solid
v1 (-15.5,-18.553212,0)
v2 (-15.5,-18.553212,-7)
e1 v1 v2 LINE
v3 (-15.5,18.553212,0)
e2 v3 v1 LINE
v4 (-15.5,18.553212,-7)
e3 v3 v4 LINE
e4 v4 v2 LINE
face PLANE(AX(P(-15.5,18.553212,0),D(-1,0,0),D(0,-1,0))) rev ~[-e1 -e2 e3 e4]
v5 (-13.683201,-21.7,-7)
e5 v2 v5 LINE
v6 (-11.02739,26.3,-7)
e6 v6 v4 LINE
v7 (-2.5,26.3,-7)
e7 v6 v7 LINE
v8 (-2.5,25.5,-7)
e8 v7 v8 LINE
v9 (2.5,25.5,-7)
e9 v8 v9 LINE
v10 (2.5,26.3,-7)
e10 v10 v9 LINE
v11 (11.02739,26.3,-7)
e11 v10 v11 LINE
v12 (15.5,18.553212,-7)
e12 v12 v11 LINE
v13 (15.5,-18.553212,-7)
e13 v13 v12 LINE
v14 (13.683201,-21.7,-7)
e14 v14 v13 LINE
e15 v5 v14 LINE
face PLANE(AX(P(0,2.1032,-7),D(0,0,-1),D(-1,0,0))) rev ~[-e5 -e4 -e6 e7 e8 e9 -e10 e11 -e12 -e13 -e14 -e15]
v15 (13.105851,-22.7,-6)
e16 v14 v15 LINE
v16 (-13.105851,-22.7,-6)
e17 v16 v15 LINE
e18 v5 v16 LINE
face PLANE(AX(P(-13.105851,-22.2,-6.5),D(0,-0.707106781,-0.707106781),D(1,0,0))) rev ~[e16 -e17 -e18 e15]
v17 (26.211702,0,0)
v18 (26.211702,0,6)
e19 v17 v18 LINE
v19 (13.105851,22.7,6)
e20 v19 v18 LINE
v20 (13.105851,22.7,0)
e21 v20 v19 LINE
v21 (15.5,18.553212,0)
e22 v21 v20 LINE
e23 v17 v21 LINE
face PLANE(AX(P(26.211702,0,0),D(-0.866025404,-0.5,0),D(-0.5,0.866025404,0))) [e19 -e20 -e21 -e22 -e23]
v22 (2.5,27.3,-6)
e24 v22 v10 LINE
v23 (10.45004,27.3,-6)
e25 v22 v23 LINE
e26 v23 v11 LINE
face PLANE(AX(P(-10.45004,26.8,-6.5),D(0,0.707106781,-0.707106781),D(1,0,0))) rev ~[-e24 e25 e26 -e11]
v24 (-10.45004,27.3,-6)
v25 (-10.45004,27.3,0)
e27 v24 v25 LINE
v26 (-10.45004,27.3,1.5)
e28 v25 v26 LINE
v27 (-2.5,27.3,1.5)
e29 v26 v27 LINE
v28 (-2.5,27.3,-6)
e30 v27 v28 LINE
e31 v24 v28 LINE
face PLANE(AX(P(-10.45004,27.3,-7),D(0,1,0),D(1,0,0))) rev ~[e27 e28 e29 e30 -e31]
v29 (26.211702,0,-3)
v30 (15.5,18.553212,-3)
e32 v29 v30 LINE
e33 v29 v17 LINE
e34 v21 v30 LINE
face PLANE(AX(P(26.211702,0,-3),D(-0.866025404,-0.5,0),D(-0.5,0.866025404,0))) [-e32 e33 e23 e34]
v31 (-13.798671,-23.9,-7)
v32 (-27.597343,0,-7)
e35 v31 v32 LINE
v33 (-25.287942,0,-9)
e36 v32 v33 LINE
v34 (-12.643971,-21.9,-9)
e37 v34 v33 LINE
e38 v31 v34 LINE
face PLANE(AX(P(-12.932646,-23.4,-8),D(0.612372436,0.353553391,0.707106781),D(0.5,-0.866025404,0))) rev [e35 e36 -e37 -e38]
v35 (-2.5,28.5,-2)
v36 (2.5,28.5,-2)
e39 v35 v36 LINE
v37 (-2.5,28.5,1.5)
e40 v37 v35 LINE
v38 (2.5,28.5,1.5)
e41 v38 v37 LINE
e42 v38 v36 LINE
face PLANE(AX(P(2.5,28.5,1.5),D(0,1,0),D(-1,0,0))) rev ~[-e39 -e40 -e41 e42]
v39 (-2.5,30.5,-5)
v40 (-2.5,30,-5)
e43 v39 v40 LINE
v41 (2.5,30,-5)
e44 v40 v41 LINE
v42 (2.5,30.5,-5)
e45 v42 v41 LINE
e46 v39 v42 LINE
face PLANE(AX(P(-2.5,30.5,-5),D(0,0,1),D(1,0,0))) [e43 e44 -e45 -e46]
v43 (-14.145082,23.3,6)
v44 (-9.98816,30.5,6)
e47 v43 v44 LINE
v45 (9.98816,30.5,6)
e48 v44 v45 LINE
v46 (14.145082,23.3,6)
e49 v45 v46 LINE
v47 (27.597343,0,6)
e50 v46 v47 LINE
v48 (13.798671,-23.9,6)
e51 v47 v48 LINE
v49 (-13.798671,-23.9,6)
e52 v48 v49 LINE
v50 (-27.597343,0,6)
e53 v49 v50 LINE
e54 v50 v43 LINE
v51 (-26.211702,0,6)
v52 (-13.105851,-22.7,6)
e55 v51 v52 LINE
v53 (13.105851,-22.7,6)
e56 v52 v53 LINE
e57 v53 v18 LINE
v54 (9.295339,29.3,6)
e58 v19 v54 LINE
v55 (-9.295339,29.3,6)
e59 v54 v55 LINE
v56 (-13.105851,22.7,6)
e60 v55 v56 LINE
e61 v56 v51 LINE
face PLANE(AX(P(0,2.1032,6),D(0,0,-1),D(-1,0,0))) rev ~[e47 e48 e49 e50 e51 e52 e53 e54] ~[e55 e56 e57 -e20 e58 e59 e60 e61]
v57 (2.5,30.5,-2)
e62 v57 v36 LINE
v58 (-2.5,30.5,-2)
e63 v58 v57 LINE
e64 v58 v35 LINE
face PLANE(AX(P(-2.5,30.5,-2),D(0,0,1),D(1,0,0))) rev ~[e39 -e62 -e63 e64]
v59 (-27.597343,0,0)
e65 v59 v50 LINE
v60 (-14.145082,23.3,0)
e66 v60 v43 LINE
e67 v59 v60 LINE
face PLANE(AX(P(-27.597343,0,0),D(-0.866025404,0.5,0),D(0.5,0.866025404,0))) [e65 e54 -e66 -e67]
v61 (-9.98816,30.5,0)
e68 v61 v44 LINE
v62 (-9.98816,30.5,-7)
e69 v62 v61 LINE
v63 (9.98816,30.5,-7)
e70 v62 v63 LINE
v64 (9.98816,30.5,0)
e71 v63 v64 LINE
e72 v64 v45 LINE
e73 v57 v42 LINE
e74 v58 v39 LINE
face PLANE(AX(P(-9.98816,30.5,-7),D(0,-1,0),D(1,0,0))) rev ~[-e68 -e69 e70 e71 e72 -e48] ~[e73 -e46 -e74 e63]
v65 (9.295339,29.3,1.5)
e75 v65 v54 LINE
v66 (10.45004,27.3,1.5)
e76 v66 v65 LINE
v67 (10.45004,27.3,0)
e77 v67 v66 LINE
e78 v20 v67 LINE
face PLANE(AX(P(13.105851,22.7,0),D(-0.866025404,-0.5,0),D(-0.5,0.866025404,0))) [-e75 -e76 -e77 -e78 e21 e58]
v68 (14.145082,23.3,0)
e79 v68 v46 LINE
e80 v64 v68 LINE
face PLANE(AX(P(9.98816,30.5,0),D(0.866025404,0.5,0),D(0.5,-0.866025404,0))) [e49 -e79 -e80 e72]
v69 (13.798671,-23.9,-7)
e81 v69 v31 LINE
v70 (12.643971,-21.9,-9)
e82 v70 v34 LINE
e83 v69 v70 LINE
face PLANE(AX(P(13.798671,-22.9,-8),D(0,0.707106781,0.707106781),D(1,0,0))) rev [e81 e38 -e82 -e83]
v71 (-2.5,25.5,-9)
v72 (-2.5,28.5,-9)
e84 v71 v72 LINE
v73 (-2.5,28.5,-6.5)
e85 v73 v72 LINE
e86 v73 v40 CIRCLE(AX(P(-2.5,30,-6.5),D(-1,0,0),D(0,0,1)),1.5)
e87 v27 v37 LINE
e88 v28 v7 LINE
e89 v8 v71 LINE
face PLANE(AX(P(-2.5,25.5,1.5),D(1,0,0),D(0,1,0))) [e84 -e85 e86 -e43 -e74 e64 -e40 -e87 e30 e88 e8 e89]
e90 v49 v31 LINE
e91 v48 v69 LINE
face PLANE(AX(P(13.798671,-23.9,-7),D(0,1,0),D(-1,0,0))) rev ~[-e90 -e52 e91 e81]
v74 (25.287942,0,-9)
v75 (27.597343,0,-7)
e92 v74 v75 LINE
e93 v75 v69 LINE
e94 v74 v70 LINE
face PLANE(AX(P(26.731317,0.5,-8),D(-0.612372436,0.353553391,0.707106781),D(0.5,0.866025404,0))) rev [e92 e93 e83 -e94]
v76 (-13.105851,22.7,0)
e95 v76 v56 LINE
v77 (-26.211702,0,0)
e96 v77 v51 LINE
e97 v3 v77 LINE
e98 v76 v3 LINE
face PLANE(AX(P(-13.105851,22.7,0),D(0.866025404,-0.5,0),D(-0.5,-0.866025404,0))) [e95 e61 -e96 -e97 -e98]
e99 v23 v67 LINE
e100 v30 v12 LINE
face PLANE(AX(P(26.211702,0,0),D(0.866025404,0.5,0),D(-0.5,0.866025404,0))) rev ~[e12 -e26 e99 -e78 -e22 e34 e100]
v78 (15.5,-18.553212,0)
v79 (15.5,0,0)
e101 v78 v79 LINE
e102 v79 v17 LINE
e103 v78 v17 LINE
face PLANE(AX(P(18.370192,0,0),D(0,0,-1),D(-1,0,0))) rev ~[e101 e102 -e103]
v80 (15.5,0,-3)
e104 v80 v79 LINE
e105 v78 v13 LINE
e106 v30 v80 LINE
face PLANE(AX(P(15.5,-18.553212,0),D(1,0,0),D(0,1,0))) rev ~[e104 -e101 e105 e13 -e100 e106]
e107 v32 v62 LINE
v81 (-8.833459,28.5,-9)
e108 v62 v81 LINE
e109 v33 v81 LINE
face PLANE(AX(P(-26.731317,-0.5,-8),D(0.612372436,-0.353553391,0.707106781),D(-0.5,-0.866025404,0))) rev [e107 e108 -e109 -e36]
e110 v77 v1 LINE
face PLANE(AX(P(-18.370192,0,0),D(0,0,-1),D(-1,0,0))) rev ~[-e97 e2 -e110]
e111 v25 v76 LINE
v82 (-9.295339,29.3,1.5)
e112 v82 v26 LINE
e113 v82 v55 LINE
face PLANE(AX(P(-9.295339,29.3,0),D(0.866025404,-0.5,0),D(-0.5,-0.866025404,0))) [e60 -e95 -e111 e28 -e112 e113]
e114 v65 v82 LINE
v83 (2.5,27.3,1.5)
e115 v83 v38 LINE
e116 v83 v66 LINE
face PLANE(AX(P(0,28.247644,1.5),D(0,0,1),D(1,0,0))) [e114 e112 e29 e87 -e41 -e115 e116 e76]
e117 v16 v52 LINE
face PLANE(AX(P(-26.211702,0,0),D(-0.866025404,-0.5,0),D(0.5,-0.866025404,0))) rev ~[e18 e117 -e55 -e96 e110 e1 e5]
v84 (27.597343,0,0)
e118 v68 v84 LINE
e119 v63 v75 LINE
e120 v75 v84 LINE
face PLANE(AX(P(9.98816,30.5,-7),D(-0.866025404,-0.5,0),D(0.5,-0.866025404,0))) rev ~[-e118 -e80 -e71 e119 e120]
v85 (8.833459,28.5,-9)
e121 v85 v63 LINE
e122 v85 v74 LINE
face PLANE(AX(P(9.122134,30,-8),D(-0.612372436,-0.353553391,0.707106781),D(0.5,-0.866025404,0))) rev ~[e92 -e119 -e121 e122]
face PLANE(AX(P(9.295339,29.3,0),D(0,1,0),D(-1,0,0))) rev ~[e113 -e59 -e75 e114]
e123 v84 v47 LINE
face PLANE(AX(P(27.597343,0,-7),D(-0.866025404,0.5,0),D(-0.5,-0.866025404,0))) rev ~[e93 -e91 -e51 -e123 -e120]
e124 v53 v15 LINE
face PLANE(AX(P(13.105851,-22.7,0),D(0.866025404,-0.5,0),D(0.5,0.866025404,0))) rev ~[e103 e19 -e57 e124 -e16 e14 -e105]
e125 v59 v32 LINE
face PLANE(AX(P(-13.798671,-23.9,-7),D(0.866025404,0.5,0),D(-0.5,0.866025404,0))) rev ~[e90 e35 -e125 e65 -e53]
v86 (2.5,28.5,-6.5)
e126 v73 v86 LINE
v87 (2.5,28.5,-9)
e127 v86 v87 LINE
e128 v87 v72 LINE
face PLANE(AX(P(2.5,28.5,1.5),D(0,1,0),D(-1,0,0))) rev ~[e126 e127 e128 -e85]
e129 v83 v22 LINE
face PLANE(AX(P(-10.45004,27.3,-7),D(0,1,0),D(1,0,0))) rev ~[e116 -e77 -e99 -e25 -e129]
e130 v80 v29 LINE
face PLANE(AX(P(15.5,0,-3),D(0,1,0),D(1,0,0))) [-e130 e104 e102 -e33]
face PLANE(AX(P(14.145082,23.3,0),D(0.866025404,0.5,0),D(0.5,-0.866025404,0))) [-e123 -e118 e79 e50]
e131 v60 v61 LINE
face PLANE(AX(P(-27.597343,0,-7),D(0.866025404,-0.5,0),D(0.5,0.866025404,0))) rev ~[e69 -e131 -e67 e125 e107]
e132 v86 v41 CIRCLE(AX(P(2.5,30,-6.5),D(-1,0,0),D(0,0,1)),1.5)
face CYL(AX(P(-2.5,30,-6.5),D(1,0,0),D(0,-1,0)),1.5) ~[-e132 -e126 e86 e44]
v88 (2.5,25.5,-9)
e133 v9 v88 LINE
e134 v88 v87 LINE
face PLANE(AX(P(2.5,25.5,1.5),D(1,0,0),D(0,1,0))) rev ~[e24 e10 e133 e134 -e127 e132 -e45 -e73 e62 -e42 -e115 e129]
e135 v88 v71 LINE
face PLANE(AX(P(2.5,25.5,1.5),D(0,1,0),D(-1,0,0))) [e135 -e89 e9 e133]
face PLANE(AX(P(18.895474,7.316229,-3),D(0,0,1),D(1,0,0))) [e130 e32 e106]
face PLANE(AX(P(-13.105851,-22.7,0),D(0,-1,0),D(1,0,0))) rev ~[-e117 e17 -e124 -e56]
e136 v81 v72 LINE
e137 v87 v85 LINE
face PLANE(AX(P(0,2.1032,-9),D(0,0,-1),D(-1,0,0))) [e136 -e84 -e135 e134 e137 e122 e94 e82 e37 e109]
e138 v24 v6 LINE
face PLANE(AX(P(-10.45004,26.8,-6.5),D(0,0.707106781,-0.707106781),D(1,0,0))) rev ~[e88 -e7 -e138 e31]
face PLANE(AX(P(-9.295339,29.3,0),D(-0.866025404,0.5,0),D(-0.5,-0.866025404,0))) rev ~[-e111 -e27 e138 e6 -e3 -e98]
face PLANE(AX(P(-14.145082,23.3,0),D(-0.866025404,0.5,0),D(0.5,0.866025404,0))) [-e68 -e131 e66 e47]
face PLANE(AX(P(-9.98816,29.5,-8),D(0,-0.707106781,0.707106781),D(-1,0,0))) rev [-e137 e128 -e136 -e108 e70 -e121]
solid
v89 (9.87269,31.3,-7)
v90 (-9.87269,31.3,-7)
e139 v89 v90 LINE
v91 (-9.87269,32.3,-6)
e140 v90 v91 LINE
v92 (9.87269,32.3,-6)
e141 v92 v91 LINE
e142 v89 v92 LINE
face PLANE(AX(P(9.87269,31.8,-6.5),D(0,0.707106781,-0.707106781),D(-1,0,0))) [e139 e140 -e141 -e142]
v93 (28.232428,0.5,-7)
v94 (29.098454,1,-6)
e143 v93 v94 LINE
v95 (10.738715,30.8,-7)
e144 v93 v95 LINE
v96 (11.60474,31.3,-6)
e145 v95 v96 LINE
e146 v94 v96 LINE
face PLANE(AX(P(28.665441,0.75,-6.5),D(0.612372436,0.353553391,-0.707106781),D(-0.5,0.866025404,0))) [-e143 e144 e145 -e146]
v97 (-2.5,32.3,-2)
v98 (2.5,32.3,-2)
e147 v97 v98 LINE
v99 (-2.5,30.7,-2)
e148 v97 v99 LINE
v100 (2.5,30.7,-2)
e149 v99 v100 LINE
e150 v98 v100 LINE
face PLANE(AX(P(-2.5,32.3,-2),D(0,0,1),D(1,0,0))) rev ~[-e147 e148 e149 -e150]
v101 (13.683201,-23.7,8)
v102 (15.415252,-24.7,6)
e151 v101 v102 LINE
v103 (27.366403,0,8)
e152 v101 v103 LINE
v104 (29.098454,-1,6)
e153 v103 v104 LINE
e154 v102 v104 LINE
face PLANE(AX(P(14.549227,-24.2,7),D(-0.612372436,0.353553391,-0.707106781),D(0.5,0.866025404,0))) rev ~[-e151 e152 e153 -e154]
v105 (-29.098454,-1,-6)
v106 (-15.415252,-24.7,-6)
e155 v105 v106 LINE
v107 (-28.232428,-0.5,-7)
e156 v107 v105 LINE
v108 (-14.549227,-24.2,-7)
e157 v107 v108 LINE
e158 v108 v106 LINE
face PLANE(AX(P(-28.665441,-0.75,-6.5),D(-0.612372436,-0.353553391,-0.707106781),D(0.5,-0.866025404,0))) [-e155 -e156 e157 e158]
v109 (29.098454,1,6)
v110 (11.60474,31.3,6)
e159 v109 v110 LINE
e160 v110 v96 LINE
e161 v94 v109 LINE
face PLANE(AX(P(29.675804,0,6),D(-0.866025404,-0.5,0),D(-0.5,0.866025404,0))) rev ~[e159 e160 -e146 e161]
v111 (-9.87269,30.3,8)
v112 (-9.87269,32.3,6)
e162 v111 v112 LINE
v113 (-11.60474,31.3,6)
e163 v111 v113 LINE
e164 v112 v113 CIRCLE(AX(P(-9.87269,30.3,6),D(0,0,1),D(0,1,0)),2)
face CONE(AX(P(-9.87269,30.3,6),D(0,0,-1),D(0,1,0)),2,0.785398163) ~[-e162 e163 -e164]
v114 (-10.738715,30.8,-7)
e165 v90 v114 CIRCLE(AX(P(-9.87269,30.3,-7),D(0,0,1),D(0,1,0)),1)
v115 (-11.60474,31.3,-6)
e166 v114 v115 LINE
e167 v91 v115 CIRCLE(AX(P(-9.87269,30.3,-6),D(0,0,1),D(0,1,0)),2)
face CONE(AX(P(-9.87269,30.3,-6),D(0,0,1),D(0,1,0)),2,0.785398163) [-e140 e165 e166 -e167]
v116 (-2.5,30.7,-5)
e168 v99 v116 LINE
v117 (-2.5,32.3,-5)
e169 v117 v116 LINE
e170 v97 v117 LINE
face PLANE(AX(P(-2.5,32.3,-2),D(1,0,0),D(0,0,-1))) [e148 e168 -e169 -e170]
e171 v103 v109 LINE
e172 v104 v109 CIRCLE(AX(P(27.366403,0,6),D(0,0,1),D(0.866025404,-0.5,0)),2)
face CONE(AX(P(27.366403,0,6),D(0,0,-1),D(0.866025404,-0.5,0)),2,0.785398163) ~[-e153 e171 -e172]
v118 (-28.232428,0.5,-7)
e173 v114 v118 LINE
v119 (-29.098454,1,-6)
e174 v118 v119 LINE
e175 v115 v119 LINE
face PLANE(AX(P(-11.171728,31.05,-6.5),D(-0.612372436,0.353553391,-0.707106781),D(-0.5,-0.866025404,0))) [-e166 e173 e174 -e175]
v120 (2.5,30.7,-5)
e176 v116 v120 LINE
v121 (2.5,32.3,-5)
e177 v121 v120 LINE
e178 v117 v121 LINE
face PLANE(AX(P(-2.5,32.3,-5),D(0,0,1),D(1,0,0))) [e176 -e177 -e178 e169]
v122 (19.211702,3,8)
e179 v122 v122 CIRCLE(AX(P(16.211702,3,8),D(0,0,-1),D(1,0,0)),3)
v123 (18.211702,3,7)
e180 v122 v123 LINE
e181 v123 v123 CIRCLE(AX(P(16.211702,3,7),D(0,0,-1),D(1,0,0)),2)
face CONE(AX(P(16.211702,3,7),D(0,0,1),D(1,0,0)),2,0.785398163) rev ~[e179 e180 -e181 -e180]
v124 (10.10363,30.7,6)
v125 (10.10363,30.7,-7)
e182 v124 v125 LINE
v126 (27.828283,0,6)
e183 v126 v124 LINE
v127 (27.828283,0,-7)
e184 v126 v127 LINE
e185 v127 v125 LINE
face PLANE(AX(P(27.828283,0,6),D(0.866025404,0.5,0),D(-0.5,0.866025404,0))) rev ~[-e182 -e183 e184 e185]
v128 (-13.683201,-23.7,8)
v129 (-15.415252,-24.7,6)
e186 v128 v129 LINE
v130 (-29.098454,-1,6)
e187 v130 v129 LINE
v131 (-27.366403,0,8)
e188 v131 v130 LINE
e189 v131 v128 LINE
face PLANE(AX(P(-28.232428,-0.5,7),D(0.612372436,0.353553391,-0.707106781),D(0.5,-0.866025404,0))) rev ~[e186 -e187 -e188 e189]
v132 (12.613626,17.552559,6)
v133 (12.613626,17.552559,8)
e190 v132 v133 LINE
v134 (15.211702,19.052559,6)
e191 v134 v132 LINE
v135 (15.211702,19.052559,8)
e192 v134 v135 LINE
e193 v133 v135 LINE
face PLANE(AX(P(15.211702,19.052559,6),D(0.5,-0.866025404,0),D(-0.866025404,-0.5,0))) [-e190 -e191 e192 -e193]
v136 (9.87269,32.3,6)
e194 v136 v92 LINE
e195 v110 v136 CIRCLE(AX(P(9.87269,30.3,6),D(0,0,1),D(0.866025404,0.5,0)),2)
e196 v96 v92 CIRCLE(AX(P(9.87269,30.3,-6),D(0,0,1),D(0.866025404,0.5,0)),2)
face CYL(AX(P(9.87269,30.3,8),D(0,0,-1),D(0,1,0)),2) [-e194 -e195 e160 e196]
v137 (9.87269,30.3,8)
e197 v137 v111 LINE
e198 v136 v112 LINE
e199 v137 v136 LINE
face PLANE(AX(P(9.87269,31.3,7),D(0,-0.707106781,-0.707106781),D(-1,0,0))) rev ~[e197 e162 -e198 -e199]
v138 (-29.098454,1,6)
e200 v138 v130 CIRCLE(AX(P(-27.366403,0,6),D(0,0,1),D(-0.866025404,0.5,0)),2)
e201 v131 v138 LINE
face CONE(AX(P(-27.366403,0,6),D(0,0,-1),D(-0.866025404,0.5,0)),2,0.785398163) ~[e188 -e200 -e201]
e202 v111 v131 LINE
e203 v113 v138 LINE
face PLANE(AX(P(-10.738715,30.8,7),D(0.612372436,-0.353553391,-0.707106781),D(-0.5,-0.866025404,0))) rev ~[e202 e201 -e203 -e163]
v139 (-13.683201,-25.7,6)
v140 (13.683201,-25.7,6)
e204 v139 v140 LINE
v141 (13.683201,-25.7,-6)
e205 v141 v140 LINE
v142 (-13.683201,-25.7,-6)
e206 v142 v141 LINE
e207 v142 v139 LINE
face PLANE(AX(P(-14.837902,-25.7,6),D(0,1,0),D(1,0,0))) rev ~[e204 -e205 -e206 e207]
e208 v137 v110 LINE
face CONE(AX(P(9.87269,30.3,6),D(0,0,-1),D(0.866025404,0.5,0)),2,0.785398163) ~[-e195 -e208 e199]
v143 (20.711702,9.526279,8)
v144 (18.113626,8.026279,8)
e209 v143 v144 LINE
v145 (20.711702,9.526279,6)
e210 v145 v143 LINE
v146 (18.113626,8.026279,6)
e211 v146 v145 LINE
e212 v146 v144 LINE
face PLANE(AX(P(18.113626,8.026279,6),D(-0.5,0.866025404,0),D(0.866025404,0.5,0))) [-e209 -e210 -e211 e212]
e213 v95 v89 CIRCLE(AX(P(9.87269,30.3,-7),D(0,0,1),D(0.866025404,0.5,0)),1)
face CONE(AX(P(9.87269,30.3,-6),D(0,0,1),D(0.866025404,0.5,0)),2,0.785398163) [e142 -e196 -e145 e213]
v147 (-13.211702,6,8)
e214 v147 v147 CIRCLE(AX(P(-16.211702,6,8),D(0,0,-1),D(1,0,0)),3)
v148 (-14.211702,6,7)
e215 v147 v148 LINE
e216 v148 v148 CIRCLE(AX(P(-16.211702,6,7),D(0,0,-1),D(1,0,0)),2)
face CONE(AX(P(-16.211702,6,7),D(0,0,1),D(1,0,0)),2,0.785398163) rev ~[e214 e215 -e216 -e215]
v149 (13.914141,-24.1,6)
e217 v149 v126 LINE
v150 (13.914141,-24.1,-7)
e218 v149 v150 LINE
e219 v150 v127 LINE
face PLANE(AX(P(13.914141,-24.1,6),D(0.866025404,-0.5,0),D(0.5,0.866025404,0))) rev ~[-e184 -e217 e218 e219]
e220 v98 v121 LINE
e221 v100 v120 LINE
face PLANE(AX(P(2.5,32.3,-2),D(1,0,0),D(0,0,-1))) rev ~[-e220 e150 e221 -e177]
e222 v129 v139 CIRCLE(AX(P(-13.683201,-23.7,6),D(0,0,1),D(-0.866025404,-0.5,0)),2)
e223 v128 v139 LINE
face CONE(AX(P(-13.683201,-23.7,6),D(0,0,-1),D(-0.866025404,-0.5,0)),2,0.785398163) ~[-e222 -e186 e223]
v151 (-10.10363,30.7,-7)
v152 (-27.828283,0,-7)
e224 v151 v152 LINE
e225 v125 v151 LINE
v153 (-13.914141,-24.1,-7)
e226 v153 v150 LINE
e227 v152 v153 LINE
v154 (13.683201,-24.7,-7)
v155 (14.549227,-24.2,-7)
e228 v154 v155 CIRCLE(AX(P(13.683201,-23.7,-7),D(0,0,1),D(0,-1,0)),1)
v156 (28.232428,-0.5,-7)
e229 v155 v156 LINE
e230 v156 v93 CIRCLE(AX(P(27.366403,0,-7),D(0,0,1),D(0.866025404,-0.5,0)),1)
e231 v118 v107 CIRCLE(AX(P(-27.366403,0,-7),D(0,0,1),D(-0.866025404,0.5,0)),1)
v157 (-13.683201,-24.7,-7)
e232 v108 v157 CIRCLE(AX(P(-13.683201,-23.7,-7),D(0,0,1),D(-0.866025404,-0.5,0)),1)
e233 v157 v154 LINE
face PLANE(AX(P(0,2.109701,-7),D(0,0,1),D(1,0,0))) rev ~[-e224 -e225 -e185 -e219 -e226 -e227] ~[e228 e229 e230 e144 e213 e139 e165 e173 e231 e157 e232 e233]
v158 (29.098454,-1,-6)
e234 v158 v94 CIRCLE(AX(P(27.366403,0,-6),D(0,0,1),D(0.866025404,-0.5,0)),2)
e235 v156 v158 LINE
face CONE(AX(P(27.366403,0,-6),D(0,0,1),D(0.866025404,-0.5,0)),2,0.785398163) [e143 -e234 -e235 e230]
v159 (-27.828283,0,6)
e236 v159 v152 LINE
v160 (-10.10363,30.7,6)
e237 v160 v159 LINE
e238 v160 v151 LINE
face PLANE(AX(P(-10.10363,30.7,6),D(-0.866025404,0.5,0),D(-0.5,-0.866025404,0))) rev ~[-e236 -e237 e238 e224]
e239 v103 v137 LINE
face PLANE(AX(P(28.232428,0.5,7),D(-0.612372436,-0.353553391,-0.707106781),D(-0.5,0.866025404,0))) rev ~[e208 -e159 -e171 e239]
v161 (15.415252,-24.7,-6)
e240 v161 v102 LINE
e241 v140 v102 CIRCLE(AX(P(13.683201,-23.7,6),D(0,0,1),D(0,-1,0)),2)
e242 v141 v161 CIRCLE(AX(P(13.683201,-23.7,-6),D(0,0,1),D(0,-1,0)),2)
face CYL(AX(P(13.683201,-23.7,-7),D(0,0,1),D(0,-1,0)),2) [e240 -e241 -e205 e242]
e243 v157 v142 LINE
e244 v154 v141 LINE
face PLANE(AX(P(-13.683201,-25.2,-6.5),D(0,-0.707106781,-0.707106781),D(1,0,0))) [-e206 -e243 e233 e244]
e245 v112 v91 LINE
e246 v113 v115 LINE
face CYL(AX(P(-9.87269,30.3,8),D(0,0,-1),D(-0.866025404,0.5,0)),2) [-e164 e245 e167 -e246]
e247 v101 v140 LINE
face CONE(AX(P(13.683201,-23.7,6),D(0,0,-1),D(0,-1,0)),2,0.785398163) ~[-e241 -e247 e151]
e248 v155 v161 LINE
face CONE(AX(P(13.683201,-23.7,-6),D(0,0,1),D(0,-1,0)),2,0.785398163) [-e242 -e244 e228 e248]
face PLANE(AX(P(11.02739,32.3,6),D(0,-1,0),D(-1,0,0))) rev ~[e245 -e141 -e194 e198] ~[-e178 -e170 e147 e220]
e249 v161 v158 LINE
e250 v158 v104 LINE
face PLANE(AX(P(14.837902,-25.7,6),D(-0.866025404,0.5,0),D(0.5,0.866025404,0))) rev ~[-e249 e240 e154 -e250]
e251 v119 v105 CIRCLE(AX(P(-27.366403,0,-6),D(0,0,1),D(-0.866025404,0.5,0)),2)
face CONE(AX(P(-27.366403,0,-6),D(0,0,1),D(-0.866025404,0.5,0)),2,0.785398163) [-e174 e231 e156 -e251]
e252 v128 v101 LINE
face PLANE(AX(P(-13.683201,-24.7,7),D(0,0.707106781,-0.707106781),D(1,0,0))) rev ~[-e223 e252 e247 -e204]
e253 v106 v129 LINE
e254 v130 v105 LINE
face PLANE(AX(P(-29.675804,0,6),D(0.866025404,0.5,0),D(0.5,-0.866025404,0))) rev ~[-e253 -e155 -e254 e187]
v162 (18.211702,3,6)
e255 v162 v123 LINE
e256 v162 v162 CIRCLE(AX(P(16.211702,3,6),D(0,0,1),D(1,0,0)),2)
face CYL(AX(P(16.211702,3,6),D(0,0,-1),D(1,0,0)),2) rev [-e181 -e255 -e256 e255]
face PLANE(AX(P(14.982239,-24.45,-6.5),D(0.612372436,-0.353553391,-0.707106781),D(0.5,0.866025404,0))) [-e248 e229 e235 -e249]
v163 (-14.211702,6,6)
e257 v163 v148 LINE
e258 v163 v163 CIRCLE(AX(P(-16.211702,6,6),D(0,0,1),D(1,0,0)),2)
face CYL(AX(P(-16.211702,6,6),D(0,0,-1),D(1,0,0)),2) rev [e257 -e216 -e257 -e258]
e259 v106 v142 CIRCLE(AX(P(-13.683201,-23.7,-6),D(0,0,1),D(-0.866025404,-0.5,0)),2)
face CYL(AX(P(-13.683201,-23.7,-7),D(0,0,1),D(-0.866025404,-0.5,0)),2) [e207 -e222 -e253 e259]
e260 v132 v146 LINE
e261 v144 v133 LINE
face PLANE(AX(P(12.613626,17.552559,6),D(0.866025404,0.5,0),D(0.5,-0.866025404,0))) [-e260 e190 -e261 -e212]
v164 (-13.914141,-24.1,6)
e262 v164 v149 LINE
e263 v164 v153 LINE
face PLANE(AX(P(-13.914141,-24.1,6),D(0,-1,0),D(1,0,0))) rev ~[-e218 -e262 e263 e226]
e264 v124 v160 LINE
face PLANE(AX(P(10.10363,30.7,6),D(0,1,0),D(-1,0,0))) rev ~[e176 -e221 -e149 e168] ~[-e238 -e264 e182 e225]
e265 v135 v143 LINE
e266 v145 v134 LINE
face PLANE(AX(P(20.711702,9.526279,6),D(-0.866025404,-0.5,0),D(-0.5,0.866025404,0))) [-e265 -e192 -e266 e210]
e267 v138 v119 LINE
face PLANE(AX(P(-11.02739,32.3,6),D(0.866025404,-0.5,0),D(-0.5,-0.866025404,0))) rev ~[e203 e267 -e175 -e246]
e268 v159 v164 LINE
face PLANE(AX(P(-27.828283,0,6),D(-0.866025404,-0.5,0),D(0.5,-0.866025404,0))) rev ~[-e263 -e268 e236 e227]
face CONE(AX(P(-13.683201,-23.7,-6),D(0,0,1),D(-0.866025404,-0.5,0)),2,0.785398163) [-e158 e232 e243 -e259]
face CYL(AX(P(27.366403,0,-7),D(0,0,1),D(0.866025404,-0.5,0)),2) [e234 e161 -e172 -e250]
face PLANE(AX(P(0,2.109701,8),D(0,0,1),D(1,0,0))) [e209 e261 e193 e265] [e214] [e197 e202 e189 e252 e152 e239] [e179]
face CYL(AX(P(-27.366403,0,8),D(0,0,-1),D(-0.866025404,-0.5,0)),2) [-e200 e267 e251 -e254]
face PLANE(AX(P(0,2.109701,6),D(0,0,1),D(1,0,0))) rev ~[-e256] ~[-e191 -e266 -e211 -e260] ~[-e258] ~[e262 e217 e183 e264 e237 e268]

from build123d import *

# Parameters (mm, degrees)
BOSS_EXTRUDE1_DEPTH     = 6
BOSS_EXTRUDE2_DEPTH     = 7
CUT_EXTRUDE1_DEPTH      = 42.723654362
CUT_EXTRUDE1_DEPTH_BACK = 3
BOSS_EXTRUDE3_DEPTH     = 2
CHAMFER2_SIZE           = 2
BOSS_EXTRUDE4_DEPTH     = 8.5
BOSS_EXTRUDE5_DEPTH     = 13
BOSS_EXTRUDE6_DEPTH     = 2
SKETCH10_R              = 2
CUT_EXTRUDE2_DEPTH      = 47.356696747
FILLET2_R               = 2
CHAMFER3_SIZE           = 2
CHAMFER4_SIZE           = 1
CHAMFER5_SIZE           = 1
CUT_EXTRUDE3_START      = -10.5
SKETCH12_W              = 5
SKETCH12_H              = 3
CUT_EXTRUDE3_DEPTH      = 10.5
SKETCH13_W              = 5
SKETCH13_H              = 3
CUT_EXTRUDE4_DEPTH      = 3.8
SKETCH14_W              = 5
SKETCH14_H              = 3
CUT_EXTRUDE5_DEPTH      = 2
FILLET4_R               = 1.5


with BuildPart() as part:
    # Sketch1 → Boss-Extrude1 (new body)
    with BuildSketch(Plane.XY):
        Polygon((9.988159657, 30.5), (14.145081595, 23.3), (27.597342867, 0), (13.798671434, -23.9), (-13.798671434, -23.9), (-27.597342867, 0), (-14.145081595, 23.3), (-9.988159657, 30.5), align=None)
        Polygon((13.105851111, -22.7), (26.211702221, 0), (13.105851111, 22.7), (9.295339334, 29.3), (-9.295339334, 29.3), (-13.105851111, 22.7), (-26.211702221, 0), (-13.105851111, -22.7), align=None, mode=Mode.SUBTRACT)
    extrude(amount=BOSS_EXTRUDE1_DEPTH)

    # Sketch2 → Boss-Extrude2 (add)
    # profile 1 of 3: a face of its own
    with BuildSketch(Plane(origin=(0, 0, 0), x_dir=(-1, 0, 0), z_dir=(0, 0, -1))):
        Polygon((27.597342867, 0), (9.988159657, 30.5), (-9.988159657, 30.5), (-27.597342867, 0), (-13.798671434, -23.9), (13.798671434, -23.9), align=None)
        Polygon((-13.105851111, -22.7), (-26.211702221, 0), (-9.295339334, 29.3), (9.295339334, 29.3), (26.211702221, 0), (13.105851111, -22.7), align=None, mode=Mode.SUBTRACT)
    # profile 2 of 3: a face of its own
    with BuildSketch(Plane(origin=(0, 0, 0), x_dir=(-1, 0, 0), z_dir=(0, 0, -1))):
        Polygon((-15.5, -18.553212483), (-15.5, 18.553212483), (-26.211702221, 0), align=None)
    # profile 3 of 3: a face of its own
    with BuildSketch(Plane(origin=(0, 0, 0), x_dir=(-1, 0, 0), z_dir=(0, 0, -1))):
        Polygon((26.211702221, 0), (15.5, 18.553212483), (15.5, -18.553212483), align=None)
    extrude(amount=BOSS_EXTRUDE2_DEPTH)

    # Sketch4 → Cut-Extrude1 (cut, two sides: drawn at the far end of the back side and taken through both)
    with BuildSketch(Plane.XY.offset(-CUT_EXTRUDE1_DEPTH_BACK)):
        Polygon((15.5, 0), (26.211702221, 0), (15.5, 18.553212483), align=None)
    extrude(amount=CUT_EXTRUDE1_DEPTH + CUT_EXTRUDE1_DEPTH_BACK, mode=Mode.SUBTRACT)

    # Sketch6 → Boss-Extrude3 (add)
    with BuildSketch(Plane(origin=(0, 0, -7), x_dir=(-1, 0, 0), z_dir=(0, 0, -1))):
        Polygon((-27.597342867, 0), (-13.798671434, -23.9), (13.798671434, -23.9), (27.597342867, 0), (9.988159657, 30.5), (-9.988159657, 30.5), align=None)
    extrude(amount=BOSS_EXTRUDE3_DEPTH)

    # Chamfer2
    chamfer2_edges = [part.edges().sort_by_distance(p)[0] for p in [
        (18.792751262, 15.25, -9),
        (20.69800715, -11.95, -9),
        (0, -23.9, -9),
        (-20.69800715, -11.95, -9),
        (-18.792751262, 15.25, -9),
        (0, 30.5, -9),
    ]]
    chamfer(chamfer2_edges, length=CHAMFER2_SIZE)

    # Sketch7 → Boss-Extrude4 (add)
    with BuildSketch(Plane.XY.offset(-7)):
        Polygon((-10.450039872, 27.3), (10.450039872, 27.3), (9.295339334, 29.3), (-9.295339334, 29.3), align=None)
    extrude(amount=BOSS_EXTRUDE4_DEPTH)

    # Chamfer5
    chamfer5_edges = [part.edges().sort_by_distance(p)[0] for p in [
        (0, 27.3, -7),
        (0, -22.7, -7),
    ]]
    chamfer(chamfer5_edges, length=CHAMFER5_SIZE)

    # Sketch12 → Cut-Extrude3 (cut)
    with BuildSketch(Plane(origin=(0, 0, -9), x_dir=(-1, 0, 0), z_dir=(0, 0, -1)).offset(CUT_EXTRUDE3_START)):
        with Locations((0, 27)):
            Rectangle(SKETCH12_W, SKETCH12_H)
    extrude(amount=CUT_EXTRUDE3_DEPTH, mode=Mode.SUBTRACT)

    # Sketch14 → Cut-Extrude5 (cut)
    with BuildSketch(Plane(origin=(0, 30.5, 0), x_dir=(1, 0, 0), z_dir=(0, 1, 0))):
        with Locations((0, 3.5)):
            Rectangle(SKETCH14_W, SKETCH14_H)
    extrude(amount=-CUT_EXTRUDE5_DEPTH, mode=Mode.SUBTRACT)

    # Fillet4
    fillet4_edges = [part.edges().sort_by_distance(p)[0] for p in [
        (0, 28.5, -5),
    ]]
    fillet(fillet4_edges, radius=FILLET4_R)


with BuildPart() as body_2:
    # Sketch8 → Boss-Extrude5 (new body)
    with BuildSketch(Plane.XY.offset(6)):
        Polygon((14.837901918, -25.7), (29.675803836, 0), (11.027390142, 32.3), (-11.027390142, 32.3), (-29.675803836, 0), (-14.837901918, -25.7), align=None)
        Polygon((27.828282975, 0), (10.103629711, 30.7), (-10.103629711, 30.7), (-27.828282975, 0), (-13.914141487, -24.1), (13.914141487, -24.1), align=None, mode=Mode.SUBTRACT)
    extrude(amount=-BOSS_EXTRUDE5_DEPTH)

    # Sketch9 → Boss-Extrude6 (add)
    with BuildSketch(Plane.XY.offset(6)):
        Polygon((-29.675803836, 0), (-14.837901918, -25.7), (14.837901918, -25.7), (29.675803836, 0), (11.027390142, 32.3), (-11.027390142, 32.3), align=None)
    extrude(amount=BOSS_EXTRUDE6_DEPTH)

    # Sketch10 → Cut-Extrude2 (cut, through all)
    with BuildSketch(Plane.XY.offset(6)):
        with Locations((-16.211702221, 6)):
            Circle(SKETCH10_R)
        with Locations((16.211702221, 3)):
            Circle(SKETCH10_R)
        Polygon((18.11362601, 8.026279442), (20.711702221, 9.526279442), (15.211702221, 19.052558883), (12.61362601, 17.552558883), align=None)
    extrude(amount=CUT_EXTRUDE2_DEPTH, mode=Mode.SUBTRACT)

    # Fillet2
    fillet2_edges = [body_2.edges().sort_by_distance(p)[0] for p in [
        (14.837901918, -25.7, 0.5),
        (-14.837901918, -25.7, 0.5),
        (-29.675803836, 0, 0.5),
        (-11.027390142, 32.3, 0.5),
        (11.027390142, 32.3, 0.5),
        (29.675803836, 0, 0.5),
    ]]
    fillet(fillet2_edges, radius=FILLET2_R)

    # Chamfer3
    chamfer3_edges = [body_2.edges().sort_by_distance(p)[0] for p in [
        (22.256852877, -12.85, 8),
        (-20.351596989, 16.15, 8),
        (-22.256852877, -12.85, 8),
        (0, -25.7, 8),
        (20.351596989, 16.15, 8),
        (0, 32.3, 8),
        (14.68320138, -25.432050808, 8),
        (-14.68320138, -25.432050808, 8),
        (-29.36640276, 0, 8),
        (-10.872689603, 32.032050808, 8),
        (10.872689603, 32.032050808, 8),
        (29.36640276, 0, 8),
    ]]
    chamfer(chamfer3_edges, length=CHAMFER3_SIZE)

    # Chamfer4
    chamfer4_edges = [body_2.edges().sort_by_distance(p)[0] for p in [
        (-18.211702221, 6, 8),
        (14.211702221, 3, 8),
        (22.256852877, -12.85, -7),
        (20.351596989, 16.15, -7),
        (0, -25.7, -7),
        (-22.256852877, -12.85, -7),
        (-20.351596989, 16.15, -7),
        (0, 32.3, -7),
        (14.68320138, -25.432050808, -7),
        (-14.68320138, -25.432050808, -7),
        (-29.36640276, 0, -7),
        (-10.872689603, 32.032050808, -7),
        (10.872689603, 32.032050808, -7),
        (29.36640276, 0, -7),
    ]]
    chamfer(chamfer4_edges, length=CHAMFER4_SIZE)

    # Sketch13 → Cut-Extrude4 (cut)
    with BuildSketch(Plane(origin=(0, 32.3, 0), x_dir=(1, 0, 0), z_dir=(0, 1, 0))):
        with Locations((0, 3.5)):
            Rectangle(SKETCH13_W, SKETCH13_H)
    extrude(amount=-CUT_EXTRUDE4_DEPTH, mode=Mode.SUBTRACT)


solid = Compound([part.part, body_2.part])
